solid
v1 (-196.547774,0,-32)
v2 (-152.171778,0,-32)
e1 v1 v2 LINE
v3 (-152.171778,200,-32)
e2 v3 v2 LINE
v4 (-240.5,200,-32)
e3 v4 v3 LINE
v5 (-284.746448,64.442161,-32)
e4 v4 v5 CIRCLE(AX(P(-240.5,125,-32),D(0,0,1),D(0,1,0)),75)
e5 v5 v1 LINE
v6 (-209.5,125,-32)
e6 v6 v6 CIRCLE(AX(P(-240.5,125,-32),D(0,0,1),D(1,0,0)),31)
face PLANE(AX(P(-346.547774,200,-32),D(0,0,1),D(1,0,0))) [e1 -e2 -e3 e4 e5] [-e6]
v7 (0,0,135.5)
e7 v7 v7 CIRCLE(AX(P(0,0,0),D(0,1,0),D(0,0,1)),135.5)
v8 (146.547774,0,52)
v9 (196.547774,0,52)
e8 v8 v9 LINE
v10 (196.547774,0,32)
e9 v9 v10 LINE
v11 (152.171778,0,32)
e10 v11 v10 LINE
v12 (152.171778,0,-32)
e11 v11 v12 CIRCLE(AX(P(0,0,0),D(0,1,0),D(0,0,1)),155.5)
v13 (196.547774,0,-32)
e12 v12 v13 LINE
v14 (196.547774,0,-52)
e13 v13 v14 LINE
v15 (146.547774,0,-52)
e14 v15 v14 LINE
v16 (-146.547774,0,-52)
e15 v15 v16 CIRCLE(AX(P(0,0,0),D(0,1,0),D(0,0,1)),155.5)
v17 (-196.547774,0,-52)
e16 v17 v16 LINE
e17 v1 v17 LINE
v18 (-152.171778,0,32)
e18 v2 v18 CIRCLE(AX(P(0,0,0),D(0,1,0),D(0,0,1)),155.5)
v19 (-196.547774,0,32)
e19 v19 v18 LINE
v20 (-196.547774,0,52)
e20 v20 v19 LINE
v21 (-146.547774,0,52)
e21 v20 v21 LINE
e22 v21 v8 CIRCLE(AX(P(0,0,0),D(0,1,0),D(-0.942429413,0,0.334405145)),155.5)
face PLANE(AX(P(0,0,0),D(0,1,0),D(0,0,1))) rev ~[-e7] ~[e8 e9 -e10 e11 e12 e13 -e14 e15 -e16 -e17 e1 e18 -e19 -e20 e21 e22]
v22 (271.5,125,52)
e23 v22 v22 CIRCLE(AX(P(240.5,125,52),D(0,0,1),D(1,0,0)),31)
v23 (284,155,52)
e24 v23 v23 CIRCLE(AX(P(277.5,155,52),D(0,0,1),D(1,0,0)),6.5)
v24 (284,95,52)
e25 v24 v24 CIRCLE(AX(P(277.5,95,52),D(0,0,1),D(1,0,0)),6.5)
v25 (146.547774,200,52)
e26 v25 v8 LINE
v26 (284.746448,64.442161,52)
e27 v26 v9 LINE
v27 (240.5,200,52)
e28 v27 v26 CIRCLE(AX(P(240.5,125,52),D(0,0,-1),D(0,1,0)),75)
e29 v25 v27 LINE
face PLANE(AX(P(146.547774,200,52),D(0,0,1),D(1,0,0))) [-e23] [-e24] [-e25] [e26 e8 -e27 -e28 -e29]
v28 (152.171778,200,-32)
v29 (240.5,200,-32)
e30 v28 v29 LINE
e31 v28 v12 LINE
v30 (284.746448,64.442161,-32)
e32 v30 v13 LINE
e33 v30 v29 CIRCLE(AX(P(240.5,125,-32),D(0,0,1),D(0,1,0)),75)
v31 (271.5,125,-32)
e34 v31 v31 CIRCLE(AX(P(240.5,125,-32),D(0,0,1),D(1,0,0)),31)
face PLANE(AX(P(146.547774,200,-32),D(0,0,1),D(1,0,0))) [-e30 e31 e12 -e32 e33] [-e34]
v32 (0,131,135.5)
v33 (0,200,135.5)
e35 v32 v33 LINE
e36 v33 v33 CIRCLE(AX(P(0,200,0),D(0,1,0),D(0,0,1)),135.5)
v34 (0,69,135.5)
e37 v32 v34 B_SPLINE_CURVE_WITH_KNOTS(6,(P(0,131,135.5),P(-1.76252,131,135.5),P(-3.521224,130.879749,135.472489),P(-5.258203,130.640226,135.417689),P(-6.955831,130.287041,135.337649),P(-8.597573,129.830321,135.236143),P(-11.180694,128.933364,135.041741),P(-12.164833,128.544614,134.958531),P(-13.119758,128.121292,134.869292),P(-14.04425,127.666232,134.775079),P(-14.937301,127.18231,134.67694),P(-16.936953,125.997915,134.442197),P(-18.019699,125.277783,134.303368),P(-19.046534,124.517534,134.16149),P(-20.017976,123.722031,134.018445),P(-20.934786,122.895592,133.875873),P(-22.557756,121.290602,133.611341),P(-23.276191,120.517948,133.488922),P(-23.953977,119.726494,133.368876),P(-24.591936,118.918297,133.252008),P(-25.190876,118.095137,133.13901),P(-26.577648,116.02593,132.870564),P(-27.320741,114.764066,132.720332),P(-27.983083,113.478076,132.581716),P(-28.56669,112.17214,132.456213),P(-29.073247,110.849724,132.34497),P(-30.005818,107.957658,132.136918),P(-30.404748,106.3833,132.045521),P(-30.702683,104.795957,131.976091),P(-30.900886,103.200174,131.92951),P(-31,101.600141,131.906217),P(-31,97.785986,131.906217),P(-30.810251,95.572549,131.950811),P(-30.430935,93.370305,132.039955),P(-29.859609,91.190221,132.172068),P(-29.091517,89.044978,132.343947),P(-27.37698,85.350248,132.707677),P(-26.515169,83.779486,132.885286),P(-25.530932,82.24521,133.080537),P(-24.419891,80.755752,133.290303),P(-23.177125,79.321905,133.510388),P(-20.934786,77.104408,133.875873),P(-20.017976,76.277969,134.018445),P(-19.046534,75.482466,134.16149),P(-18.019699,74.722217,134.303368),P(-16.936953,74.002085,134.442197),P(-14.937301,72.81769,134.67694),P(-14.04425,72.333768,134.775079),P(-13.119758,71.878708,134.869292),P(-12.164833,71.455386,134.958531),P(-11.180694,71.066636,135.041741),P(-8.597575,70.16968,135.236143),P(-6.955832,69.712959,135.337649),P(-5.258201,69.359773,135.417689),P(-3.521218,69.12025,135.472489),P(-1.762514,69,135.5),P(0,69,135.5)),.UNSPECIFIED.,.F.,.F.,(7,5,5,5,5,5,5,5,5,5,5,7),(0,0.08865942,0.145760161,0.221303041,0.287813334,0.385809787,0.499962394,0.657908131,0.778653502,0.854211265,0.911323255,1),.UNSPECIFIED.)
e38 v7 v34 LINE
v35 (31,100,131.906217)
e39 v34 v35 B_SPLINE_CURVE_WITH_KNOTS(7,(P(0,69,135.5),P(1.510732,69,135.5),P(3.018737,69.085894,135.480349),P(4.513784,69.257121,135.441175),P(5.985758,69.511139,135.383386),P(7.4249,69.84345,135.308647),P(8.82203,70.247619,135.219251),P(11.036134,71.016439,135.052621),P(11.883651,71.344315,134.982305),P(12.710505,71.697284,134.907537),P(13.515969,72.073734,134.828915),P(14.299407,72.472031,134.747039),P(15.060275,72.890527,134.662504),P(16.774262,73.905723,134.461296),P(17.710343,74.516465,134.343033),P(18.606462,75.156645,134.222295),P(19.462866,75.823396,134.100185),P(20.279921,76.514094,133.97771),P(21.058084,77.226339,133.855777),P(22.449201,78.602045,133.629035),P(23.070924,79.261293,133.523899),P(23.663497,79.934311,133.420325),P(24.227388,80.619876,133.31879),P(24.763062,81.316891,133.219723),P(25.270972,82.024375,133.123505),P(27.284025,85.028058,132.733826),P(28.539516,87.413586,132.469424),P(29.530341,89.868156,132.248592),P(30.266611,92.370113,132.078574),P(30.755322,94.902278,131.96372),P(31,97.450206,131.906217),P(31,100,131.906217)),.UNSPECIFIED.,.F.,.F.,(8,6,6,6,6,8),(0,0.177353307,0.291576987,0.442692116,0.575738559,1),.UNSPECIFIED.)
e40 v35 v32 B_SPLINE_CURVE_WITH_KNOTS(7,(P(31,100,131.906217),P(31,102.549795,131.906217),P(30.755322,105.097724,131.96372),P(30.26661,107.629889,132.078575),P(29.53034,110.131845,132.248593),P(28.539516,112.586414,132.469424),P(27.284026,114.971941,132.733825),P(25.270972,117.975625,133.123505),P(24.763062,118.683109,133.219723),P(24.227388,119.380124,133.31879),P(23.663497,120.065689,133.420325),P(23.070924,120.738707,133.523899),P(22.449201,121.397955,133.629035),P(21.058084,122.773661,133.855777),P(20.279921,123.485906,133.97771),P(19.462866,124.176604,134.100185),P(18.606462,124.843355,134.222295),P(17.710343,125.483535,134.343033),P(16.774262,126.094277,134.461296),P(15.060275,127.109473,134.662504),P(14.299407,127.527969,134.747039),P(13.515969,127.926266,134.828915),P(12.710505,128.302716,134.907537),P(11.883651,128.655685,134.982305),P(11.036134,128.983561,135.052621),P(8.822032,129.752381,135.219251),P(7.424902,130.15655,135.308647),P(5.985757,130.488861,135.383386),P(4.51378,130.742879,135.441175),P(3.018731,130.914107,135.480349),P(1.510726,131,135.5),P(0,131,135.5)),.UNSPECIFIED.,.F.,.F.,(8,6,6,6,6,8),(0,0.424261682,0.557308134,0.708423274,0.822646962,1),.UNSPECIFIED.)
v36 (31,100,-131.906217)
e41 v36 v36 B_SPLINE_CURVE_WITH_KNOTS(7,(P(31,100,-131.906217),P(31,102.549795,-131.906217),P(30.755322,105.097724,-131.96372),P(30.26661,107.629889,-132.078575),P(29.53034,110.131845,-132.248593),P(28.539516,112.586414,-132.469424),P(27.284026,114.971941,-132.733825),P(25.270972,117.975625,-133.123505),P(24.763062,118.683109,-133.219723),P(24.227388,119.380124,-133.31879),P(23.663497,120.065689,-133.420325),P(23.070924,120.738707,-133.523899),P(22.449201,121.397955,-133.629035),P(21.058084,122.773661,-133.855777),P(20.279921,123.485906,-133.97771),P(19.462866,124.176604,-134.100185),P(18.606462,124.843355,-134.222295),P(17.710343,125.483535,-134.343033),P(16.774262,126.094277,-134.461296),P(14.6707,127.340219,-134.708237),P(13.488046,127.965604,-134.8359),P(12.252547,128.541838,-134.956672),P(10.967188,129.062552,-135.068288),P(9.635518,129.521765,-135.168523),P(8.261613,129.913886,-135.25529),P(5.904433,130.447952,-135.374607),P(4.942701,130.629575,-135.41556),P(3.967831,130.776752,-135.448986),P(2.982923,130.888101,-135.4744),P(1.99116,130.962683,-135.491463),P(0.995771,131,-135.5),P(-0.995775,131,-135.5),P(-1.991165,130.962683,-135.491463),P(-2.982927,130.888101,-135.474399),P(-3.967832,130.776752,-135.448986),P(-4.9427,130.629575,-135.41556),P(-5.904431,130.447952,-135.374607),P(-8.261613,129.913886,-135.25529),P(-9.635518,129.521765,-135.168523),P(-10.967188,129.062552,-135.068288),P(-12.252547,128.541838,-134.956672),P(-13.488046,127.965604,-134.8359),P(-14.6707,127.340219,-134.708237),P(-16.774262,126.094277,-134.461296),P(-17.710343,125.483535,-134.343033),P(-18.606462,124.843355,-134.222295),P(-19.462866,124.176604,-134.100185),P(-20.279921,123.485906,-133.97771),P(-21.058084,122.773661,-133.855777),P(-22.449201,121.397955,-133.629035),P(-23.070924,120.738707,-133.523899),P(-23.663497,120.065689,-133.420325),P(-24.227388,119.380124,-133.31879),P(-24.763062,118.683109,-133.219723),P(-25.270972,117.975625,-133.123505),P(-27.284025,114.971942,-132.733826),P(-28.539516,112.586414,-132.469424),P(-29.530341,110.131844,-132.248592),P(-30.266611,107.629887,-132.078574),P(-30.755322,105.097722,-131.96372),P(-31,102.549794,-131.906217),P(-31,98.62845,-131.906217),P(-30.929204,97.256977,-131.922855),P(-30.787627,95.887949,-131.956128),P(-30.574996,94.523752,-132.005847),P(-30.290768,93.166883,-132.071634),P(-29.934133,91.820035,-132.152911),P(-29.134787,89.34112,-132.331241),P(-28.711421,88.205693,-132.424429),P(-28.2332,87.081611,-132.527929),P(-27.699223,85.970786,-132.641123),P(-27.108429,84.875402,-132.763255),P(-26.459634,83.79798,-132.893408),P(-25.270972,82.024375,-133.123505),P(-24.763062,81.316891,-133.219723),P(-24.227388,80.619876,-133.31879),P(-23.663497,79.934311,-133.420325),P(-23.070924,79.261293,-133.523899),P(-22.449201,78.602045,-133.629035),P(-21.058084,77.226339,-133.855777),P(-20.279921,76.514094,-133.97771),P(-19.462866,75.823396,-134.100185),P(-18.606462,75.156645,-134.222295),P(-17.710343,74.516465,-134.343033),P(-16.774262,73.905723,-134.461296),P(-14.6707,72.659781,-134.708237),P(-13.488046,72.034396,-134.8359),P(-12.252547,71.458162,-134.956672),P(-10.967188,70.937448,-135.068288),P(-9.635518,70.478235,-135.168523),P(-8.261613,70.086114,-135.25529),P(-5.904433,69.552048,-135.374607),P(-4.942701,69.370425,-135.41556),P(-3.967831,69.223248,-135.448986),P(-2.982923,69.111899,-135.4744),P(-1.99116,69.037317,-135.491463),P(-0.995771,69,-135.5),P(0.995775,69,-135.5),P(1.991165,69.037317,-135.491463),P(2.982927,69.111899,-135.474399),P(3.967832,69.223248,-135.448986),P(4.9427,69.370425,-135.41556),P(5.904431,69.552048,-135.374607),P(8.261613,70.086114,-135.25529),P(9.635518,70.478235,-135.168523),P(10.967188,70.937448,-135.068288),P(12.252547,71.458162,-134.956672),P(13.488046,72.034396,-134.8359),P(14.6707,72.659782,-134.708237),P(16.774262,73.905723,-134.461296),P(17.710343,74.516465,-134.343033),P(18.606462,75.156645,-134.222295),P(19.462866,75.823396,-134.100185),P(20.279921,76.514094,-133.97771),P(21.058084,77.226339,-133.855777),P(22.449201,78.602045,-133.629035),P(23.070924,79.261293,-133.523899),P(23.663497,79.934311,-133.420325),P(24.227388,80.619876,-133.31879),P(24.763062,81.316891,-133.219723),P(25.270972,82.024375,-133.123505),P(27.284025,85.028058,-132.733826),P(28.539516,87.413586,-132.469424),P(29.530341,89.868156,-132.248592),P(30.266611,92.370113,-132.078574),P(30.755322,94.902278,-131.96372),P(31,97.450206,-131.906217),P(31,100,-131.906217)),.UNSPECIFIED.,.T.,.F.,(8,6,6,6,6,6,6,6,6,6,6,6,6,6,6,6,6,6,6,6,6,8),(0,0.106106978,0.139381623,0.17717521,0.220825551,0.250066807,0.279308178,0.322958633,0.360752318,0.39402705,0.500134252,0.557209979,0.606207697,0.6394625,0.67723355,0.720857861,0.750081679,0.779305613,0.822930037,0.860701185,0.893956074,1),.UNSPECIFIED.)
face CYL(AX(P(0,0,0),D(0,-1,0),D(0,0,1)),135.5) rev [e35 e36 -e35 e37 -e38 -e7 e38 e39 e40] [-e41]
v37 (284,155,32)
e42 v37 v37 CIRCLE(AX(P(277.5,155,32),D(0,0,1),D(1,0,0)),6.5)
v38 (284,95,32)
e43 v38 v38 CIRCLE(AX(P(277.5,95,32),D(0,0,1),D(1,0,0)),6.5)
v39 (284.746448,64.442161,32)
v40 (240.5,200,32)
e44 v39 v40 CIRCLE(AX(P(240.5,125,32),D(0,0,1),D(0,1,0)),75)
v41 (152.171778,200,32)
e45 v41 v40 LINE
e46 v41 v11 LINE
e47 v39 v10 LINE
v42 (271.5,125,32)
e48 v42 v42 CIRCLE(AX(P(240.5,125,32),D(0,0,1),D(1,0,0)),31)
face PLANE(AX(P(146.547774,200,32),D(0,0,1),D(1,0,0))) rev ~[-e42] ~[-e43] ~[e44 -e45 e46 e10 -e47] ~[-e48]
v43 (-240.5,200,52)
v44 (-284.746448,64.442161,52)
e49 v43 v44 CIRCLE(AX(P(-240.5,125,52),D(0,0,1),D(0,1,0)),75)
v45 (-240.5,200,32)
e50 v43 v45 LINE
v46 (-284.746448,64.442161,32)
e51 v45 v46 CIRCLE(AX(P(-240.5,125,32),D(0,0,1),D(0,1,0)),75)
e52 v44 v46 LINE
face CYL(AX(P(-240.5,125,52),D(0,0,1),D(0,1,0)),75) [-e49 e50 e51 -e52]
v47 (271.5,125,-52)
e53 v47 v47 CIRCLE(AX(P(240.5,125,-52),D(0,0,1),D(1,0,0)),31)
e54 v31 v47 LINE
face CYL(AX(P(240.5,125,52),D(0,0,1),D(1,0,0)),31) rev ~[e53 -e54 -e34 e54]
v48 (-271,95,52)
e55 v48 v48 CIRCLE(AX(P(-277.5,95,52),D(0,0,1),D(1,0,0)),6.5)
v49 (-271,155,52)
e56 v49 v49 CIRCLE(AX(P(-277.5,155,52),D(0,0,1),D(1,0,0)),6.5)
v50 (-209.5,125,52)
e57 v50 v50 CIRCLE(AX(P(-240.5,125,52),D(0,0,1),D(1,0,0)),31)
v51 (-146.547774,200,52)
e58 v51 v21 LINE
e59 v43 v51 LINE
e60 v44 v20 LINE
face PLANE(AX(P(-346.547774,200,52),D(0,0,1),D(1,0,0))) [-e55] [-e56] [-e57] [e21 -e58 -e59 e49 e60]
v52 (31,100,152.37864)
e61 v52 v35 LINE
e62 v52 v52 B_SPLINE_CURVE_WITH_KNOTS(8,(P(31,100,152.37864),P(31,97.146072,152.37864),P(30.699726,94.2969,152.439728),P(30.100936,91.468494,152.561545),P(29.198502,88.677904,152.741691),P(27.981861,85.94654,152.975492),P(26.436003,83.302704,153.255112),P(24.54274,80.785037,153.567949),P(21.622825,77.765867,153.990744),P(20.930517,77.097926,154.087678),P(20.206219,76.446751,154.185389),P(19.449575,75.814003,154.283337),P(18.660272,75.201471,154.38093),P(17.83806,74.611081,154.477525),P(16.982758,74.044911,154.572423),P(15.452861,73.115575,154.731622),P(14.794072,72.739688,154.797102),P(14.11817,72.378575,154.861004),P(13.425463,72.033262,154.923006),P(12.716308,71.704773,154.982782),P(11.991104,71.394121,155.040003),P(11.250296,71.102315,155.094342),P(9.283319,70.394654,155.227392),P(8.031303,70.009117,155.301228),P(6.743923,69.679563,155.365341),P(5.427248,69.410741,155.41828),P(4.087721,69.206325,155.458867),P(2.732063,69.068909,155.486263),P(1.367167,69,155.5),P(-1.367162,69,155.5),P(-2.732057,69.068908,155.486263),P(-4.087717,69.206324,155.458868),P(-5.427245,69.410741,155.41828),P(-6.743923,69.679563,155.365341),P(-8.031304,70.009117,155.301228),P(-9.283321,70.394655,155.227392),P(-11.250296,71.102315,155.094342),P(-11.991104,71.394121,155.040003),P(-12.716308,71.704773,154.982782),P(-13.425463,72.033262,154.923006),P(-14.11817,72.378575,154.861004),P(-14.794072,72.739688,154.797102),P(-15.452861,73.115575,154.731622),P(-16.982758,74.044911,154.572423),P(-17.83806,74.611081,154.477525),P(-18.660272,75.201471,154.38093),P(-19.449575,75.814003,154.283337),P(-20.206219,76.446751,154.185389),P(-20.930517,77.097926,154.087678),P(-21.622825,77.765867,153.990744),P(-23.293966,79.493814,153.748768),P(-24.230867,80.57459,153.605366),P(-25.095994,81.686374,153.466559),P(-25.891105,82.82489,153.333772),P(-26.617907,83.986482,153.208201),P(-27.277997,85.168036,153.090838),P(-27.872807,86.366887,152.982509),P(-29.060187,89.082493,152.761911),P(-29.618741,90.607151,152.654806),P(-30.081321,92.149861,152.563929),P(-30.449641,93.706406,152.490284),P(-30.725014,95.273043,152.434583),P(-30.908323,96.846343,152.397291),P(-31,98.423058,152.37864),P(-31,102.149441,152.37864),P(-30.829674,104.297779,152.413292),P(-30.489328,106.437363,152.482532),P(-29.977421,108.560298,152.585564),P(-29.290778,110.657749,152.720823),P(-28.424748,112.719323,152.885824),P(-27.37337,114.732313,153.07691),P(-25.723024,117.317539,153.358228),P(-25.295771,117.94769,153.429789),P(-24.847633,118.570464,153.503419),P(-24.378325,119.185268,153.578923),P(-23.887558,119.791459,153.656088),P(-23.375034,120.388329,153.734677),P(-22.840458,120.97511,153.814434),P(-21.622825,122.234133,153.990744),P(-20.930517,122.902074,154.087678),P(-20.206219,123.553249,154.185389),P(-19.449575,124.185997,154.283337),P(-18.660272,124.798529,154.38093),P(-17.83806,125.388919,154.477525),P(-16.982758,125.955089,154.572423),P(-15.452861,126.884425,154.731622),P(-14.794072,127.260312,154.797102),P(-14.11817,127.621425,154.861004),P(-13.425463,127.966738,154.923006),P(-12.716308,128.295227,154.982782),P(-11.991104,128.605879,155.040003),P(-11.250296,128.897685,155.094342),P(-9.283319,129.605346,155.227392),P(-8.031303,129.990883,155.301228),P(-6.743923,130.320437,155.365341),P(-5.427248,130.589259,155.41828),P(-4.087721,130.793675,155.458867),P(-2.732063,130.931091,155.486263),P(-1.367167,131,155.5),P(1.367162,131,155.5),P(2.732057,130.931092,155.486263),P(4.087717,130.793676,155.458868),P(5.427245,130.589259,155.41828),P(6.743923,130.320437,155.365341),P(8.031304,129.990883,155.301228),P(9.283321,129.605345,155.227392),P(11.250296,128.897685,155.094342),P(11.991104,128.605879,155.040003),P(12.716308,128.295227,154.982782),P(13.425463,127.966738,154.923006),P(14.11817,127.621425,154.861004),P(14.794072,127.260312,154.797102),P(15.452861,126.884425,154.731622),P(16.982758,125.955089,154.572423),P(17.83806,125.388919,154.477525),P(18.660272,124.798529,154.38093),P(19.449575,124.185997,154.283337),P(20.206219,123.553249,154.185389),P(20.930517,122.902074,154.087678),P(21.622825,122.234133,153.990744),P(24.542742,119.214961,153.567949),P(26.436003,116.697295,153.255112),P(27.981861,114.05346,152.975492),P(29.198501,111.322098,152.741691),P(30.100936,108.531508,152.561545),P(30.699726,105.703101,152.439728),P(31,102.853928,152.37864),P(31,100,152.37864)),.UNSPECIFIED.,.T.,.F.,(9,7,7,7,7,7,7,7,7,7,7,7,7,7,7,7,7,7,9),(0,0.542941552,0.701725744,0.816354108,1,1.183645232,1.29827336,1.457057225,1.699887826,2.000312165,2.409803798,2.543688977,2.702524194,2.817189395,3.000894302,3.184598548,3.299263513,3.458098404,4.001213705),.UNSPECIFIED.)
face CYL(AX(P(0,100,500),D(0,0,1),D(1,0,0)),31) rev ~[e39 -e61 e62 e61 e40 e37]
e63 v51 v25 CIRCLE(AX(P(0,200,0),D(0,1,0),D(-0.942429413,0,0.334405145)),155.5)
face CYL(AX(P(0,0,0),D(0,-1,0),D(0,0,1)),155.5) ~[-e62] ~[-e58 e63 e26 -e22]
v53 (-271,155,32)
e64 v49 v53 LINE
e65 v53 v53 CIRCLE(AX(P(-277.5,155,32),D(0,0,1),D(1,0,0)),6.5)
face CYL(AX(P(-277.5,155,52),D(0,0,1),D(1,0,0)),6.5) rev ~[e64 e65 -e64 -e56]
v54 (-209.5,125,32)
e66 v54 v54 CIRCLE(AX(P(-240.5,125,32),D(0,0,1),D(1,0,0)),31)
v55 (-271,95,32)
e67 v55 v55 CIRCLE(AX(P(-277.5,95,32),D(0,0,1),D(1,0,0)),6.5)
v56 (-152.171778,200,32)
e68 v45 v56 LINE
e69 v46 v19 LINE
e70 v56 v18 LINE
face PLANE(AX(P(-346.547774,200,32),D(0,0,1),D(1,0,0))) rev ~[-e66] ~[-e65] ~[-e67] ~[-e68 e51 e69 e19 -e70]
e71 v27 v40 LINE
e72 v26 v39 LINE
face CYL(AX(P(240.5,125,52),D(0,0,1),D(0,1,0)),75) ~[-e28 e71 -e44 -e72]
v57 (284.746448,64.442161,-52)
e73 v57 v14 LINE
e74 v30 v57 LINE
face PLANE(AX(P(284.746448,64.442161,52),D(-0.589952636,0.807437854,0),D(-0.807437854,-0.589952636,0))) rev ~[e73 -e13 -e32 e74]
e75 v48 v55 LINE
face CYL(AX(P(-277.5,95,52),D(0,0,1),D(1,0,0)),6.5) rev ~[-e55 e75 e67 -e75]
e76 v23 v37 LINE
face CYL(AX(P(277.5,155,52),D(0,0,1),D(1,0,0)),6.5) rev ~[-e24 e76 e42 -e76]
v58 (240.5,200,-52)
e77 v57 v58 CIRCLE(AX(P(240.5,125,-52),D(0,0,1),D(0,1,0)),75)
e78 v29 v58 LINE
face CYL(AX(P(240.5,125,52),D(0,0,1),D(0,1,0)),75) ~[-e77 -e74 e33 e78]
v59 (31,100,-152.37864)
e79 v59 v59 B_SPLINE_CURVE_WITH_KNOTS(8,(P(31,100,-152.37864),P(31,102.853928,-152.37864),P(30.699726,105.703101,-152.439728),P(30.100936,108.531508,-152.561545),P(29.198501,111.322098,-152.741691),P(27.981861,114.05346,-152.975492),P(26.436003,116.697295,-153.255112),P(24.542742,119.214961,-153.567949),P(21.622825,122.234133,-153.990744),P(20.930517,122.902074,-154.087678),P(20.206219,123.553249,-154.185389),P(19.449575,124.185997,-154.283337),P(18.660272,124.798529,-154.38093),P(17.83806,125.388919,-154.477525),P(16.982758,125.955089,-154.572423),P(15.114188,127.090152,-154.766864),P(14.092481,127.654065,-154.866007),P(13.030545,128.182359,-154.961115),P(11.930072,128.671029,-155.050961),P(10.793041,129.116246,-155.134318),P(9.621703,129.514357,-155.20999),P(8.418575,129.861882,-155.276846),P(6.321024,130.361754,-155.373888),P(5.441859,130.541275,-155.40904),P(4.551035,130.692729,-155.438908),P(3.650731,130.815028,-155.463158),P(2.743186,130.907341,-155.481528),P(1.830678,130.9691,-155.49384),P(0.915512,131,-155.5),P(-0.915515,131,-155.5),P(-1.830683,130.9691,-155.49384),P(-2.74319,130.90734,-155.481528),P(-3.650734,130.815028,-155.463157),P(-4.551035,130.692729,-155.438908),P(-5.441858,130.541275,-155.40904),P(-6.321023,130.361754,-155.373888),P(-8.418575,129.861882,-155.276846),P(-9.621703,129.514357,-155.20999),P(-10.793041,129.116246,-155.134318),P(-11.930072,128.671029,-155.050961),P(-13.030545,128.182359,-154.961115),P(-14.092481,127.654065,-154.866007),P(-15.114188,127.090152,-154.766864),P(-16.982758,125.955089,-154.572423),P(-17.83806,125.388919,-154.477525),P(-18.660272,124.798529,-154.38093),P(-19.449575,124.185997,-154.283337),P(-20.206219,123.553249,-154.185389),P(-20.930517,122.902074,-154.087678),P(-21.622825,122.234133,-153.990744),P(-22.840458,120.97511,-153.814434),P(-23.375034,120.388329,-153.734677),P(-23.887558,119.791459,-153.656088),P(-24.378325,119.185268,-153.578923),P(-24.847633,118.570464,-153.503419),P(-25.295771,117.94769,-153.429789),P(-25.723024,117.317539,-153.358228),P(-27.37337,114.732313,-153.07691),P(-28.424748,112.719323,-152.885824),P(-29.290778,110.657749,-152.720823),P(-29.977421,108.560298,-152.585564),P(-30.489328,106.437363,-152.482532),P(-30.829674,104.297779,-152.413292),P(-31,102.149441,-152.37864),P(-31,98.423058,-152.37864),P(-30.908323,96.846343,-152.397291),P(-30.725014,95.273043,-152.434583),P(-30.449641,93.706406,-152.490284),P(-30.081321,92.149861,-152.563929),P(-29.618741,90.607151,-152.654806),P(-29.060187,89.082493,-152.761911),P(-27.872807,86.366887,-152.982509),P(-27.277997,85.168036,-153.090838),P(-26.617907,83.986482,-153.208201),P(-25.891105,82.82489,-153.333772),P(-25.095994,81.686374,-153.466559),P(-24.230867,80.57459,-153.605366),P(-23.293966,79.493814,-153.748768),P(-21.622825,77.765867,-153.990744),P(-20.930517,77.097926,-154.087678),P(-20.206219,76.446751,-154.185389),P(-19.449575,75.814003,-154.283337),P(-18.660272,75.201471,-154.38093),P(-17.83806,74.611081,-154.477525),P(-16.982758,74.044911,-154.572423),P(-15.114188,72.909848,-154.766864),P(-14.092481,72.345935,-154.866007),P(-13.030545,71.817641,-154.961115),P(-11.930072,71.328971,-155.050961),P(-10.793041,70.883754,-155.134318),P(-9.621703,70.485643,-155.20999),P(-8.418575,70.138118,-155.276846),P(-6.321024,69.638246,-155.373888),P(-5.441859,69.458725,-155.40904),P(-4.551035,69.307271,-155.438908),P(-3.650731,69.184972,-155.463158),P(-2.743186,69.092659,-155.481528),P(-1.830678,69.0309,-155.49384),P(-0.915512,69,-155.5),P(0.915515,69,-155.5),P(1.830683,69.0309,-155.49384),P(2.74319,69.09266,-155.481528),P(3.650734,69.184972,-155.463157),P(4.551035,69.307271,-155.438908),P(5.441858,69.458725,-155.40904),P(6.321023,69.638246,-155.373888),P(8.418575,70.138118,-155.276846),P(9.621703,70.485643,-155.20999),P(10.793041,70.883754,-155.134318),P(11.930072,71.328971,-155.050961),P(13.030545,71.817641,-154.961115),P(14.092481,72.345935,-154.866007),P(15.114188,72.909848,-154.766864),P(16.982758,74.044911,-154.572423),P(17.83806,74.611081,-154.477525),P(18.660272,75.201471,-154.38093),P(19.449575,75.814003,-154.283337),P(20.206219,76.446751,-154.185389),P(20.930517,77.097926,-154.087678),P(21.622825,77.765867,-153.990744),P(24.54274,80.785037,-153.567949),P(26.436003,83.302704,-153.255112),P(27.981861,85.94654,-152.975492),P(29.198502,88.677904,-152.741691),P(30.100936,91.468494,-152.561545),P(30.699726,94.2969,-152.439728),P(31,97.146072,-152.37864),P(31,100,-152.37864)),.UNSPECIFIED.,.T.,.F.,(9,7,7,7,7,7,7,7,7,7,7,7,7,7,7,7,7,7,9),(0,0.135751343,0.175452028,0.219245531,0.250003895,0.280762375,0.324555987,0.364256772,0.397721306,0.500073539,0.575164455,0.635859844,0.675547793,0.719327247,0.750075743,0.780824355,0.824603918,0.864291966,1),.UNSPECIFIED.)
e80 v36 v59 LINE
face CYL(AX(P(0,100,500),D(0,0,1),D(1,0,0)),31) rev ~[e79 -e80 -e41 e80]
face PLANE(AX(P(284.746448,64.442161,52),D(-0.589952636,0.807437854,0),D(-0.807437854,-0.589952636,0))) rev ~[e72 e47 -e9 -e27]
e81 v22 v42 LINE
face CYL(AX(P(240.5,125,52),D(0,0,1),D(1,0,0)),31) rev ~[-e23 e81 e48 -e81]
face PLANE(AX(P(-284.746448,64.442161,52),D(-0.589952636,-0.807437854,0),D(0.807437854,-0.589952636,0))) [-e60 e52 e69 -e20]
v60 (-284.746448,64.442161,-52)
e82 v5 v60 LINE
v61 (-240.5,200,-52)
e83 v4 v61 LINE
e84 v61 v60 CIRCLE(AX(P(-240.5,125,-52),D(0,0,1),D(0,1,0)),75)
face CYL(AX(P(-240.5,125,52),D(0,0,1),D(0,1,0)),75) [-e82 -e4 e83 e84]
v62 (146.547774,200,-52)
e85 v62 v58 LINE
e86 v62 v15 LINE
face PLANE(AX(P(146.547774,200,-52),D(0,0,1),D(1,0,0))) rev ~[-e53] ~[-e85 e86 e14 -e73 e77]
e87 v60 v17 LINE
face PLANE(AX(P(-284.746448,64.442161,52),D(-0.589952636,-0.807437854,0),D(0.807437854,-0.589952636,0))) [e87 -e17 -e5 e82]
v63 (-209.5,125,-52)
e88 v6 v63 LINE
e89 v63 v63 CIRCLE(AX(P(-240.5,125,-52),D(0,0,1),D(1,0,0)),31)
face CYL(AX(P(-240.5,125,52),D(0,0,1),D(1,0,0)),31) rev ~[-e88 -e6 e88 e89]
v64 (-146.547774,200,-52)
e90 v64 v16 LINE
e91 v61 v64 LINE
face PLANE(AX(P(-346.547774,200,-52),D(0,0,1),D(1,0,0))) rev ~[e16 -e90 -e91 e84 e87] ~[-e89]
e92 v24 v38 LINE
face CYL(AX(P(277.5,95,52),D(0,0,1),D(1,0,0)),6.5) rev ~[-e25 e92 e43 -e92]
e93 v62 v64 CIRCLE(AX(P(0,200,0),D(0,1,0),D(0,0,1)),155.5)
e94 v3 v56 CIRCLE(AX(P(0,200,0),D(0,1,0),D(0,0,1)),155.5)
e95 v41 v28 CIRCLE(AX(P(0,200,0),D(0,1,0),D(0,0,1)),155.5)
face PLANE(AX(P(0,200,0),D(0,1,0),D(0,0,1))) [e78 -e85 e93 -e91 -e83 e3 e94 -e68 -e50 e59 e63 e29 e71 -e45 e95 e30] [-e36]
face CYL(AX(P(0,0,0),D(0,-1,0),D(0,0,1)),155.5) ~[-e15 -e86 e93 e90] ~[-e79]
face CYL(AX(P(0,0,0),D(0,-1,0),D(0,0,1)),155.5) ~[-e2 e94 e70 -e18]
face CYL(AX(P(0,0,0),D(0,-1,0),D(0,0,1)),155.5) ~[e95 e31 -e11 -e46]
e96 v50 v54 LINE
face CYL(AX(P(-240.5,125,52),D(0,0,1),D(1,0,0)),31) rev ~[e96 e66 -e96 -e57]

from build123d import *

# Parameters (mm, degrees)
SKETCH_1_R          = 155.5
SKETCH_1_R_2        = 135.5
EXTRUDE_1_DEPTH     = 200
SKETCH_2_R          = 31
CUT_EXTRUDE_1_DEPTH = 703.75209
SKETCH_3_W          = 200
SKETCH_3_H          = 20
EXTRUDE_2_DEPTH     = 200
SKETCH_4_R          = 31
CUT_EXTRUDE_2_DEPTH = 451.72342916
SKETCH_5_R          = 6.5
CUT_EXTRUDE_3_DEPTH = 20


with BuildPart() as part:
    # 草图1 → 凸台-拉伸1 (new body)
    with BuildSketch(Plane(origin=(0, 0, 0), x_dir=(1, 0, 0), z_dir=(0, 1, 0))):
        with Locations(Location((0, 0, 0), (0, 0, 270))):
            Circle(SKETCH_1_R)
        with Locations(Location((0, 0, 0), (0, 0, 270))):
            Circle(SKETCH_1_R_2, mode=Mode.SUBTRACT)
    extrude(amount=EXTRUDE_1_DEPTH)

    # 草图2 → 切除-拉伸1 (cut, through all)
    with BuildSketch(Plane.XY.offset(500)):
        with Locations((0, 100)):
            Circle(SKETCH_2_R)
    extrude(amount=-CUT_EXTRUDE_1_DEPTH, mode=Mode.SUBTRACT)

    # 草图3 → 凸台-拉伸2 (add)
    with BuildSketch(Plane(origin=(0, 200, 0), x_dir=(1, 0, 0), z_dir=(0, 1, 0))):
        with Locations((246.54777378, 42)):
            Rectangle(SKETCH_3_W, SKETCH_3_H)
        with Locations((246.54777378, -42)):
            Rectangle(SKETCH_3_W, SKETCH_3_H)
        with Locations((-246.54777378, 42)):
            Rectangle(SKETCH_3_W, SKETCH_3_H)
        with Locations((-246.54777378, -42)):
            Rectangle(SKETCH_3_W, SKETCH_3_H)
    extrude(amount=-EXTRUDE_2_DEPTH)

    # 草图4 → 切除-拉伸2 (cut, through all)
    with BuildSketch(Plane.XY.offset(52)):
        with Locations((-240.5, 125)):
            Circle(SKETCH_4_R)
        with Locations((240.5, 125)):
            Circle(SKETCH_4_R)
        with BuildLine():
            Line((284.746447685, 64.442160976), (196.54777378, 0))
            Line((196.54777378, 0), (346.54777378, 0))
            Line((346.54777378, 0), (346.54777378, 200))
            Line((346.54777378, 200), (240.5, 200))
            ThreePointArc((240.5, 200), (311.798099297, 148.271893704), (284.746447685, 64.442160976))
        make_face()
        with BuildLine():
            Line((-284.746447685, 64.442160976), (-196.54777378, 0))
            Line((-196.54777378, 0), (-346.54777378, 0))
            Line((-346.54777378, 0), (-346.54777378, 200))
            Line((-346.54777378, 200), (-240.5, 200))
            ThreePointArc((-240.5, 200), (-311.798099297, 148.271893704), (-284.746447685, 64.442160976))
        make_face()
    extrude(amount=-CUT_EXTRUDE_2_DEPTH, mode=Mode.SUBTRACT)

    # 草图5 → 切除-拉伸3 (cut)
    with BuildSketch(Plane.XY.offset(52)):
        with Locations((277.5, 155)):
            Circle(SKETCH_5_R)
        with Locations((277.5, 95)):
            Circle(SKETCH_5_R)
        with Locations((-277.5, 155)):
            Circle(SKETCH_5_R)
        with Locations((-277.5, 95)):
            Circle(SKETCH_5_R)
    extrude(amount=-CUT_EXTRUDE_3_DEPTH, mode=Mode.SUBTRACT)


solid = part.part
